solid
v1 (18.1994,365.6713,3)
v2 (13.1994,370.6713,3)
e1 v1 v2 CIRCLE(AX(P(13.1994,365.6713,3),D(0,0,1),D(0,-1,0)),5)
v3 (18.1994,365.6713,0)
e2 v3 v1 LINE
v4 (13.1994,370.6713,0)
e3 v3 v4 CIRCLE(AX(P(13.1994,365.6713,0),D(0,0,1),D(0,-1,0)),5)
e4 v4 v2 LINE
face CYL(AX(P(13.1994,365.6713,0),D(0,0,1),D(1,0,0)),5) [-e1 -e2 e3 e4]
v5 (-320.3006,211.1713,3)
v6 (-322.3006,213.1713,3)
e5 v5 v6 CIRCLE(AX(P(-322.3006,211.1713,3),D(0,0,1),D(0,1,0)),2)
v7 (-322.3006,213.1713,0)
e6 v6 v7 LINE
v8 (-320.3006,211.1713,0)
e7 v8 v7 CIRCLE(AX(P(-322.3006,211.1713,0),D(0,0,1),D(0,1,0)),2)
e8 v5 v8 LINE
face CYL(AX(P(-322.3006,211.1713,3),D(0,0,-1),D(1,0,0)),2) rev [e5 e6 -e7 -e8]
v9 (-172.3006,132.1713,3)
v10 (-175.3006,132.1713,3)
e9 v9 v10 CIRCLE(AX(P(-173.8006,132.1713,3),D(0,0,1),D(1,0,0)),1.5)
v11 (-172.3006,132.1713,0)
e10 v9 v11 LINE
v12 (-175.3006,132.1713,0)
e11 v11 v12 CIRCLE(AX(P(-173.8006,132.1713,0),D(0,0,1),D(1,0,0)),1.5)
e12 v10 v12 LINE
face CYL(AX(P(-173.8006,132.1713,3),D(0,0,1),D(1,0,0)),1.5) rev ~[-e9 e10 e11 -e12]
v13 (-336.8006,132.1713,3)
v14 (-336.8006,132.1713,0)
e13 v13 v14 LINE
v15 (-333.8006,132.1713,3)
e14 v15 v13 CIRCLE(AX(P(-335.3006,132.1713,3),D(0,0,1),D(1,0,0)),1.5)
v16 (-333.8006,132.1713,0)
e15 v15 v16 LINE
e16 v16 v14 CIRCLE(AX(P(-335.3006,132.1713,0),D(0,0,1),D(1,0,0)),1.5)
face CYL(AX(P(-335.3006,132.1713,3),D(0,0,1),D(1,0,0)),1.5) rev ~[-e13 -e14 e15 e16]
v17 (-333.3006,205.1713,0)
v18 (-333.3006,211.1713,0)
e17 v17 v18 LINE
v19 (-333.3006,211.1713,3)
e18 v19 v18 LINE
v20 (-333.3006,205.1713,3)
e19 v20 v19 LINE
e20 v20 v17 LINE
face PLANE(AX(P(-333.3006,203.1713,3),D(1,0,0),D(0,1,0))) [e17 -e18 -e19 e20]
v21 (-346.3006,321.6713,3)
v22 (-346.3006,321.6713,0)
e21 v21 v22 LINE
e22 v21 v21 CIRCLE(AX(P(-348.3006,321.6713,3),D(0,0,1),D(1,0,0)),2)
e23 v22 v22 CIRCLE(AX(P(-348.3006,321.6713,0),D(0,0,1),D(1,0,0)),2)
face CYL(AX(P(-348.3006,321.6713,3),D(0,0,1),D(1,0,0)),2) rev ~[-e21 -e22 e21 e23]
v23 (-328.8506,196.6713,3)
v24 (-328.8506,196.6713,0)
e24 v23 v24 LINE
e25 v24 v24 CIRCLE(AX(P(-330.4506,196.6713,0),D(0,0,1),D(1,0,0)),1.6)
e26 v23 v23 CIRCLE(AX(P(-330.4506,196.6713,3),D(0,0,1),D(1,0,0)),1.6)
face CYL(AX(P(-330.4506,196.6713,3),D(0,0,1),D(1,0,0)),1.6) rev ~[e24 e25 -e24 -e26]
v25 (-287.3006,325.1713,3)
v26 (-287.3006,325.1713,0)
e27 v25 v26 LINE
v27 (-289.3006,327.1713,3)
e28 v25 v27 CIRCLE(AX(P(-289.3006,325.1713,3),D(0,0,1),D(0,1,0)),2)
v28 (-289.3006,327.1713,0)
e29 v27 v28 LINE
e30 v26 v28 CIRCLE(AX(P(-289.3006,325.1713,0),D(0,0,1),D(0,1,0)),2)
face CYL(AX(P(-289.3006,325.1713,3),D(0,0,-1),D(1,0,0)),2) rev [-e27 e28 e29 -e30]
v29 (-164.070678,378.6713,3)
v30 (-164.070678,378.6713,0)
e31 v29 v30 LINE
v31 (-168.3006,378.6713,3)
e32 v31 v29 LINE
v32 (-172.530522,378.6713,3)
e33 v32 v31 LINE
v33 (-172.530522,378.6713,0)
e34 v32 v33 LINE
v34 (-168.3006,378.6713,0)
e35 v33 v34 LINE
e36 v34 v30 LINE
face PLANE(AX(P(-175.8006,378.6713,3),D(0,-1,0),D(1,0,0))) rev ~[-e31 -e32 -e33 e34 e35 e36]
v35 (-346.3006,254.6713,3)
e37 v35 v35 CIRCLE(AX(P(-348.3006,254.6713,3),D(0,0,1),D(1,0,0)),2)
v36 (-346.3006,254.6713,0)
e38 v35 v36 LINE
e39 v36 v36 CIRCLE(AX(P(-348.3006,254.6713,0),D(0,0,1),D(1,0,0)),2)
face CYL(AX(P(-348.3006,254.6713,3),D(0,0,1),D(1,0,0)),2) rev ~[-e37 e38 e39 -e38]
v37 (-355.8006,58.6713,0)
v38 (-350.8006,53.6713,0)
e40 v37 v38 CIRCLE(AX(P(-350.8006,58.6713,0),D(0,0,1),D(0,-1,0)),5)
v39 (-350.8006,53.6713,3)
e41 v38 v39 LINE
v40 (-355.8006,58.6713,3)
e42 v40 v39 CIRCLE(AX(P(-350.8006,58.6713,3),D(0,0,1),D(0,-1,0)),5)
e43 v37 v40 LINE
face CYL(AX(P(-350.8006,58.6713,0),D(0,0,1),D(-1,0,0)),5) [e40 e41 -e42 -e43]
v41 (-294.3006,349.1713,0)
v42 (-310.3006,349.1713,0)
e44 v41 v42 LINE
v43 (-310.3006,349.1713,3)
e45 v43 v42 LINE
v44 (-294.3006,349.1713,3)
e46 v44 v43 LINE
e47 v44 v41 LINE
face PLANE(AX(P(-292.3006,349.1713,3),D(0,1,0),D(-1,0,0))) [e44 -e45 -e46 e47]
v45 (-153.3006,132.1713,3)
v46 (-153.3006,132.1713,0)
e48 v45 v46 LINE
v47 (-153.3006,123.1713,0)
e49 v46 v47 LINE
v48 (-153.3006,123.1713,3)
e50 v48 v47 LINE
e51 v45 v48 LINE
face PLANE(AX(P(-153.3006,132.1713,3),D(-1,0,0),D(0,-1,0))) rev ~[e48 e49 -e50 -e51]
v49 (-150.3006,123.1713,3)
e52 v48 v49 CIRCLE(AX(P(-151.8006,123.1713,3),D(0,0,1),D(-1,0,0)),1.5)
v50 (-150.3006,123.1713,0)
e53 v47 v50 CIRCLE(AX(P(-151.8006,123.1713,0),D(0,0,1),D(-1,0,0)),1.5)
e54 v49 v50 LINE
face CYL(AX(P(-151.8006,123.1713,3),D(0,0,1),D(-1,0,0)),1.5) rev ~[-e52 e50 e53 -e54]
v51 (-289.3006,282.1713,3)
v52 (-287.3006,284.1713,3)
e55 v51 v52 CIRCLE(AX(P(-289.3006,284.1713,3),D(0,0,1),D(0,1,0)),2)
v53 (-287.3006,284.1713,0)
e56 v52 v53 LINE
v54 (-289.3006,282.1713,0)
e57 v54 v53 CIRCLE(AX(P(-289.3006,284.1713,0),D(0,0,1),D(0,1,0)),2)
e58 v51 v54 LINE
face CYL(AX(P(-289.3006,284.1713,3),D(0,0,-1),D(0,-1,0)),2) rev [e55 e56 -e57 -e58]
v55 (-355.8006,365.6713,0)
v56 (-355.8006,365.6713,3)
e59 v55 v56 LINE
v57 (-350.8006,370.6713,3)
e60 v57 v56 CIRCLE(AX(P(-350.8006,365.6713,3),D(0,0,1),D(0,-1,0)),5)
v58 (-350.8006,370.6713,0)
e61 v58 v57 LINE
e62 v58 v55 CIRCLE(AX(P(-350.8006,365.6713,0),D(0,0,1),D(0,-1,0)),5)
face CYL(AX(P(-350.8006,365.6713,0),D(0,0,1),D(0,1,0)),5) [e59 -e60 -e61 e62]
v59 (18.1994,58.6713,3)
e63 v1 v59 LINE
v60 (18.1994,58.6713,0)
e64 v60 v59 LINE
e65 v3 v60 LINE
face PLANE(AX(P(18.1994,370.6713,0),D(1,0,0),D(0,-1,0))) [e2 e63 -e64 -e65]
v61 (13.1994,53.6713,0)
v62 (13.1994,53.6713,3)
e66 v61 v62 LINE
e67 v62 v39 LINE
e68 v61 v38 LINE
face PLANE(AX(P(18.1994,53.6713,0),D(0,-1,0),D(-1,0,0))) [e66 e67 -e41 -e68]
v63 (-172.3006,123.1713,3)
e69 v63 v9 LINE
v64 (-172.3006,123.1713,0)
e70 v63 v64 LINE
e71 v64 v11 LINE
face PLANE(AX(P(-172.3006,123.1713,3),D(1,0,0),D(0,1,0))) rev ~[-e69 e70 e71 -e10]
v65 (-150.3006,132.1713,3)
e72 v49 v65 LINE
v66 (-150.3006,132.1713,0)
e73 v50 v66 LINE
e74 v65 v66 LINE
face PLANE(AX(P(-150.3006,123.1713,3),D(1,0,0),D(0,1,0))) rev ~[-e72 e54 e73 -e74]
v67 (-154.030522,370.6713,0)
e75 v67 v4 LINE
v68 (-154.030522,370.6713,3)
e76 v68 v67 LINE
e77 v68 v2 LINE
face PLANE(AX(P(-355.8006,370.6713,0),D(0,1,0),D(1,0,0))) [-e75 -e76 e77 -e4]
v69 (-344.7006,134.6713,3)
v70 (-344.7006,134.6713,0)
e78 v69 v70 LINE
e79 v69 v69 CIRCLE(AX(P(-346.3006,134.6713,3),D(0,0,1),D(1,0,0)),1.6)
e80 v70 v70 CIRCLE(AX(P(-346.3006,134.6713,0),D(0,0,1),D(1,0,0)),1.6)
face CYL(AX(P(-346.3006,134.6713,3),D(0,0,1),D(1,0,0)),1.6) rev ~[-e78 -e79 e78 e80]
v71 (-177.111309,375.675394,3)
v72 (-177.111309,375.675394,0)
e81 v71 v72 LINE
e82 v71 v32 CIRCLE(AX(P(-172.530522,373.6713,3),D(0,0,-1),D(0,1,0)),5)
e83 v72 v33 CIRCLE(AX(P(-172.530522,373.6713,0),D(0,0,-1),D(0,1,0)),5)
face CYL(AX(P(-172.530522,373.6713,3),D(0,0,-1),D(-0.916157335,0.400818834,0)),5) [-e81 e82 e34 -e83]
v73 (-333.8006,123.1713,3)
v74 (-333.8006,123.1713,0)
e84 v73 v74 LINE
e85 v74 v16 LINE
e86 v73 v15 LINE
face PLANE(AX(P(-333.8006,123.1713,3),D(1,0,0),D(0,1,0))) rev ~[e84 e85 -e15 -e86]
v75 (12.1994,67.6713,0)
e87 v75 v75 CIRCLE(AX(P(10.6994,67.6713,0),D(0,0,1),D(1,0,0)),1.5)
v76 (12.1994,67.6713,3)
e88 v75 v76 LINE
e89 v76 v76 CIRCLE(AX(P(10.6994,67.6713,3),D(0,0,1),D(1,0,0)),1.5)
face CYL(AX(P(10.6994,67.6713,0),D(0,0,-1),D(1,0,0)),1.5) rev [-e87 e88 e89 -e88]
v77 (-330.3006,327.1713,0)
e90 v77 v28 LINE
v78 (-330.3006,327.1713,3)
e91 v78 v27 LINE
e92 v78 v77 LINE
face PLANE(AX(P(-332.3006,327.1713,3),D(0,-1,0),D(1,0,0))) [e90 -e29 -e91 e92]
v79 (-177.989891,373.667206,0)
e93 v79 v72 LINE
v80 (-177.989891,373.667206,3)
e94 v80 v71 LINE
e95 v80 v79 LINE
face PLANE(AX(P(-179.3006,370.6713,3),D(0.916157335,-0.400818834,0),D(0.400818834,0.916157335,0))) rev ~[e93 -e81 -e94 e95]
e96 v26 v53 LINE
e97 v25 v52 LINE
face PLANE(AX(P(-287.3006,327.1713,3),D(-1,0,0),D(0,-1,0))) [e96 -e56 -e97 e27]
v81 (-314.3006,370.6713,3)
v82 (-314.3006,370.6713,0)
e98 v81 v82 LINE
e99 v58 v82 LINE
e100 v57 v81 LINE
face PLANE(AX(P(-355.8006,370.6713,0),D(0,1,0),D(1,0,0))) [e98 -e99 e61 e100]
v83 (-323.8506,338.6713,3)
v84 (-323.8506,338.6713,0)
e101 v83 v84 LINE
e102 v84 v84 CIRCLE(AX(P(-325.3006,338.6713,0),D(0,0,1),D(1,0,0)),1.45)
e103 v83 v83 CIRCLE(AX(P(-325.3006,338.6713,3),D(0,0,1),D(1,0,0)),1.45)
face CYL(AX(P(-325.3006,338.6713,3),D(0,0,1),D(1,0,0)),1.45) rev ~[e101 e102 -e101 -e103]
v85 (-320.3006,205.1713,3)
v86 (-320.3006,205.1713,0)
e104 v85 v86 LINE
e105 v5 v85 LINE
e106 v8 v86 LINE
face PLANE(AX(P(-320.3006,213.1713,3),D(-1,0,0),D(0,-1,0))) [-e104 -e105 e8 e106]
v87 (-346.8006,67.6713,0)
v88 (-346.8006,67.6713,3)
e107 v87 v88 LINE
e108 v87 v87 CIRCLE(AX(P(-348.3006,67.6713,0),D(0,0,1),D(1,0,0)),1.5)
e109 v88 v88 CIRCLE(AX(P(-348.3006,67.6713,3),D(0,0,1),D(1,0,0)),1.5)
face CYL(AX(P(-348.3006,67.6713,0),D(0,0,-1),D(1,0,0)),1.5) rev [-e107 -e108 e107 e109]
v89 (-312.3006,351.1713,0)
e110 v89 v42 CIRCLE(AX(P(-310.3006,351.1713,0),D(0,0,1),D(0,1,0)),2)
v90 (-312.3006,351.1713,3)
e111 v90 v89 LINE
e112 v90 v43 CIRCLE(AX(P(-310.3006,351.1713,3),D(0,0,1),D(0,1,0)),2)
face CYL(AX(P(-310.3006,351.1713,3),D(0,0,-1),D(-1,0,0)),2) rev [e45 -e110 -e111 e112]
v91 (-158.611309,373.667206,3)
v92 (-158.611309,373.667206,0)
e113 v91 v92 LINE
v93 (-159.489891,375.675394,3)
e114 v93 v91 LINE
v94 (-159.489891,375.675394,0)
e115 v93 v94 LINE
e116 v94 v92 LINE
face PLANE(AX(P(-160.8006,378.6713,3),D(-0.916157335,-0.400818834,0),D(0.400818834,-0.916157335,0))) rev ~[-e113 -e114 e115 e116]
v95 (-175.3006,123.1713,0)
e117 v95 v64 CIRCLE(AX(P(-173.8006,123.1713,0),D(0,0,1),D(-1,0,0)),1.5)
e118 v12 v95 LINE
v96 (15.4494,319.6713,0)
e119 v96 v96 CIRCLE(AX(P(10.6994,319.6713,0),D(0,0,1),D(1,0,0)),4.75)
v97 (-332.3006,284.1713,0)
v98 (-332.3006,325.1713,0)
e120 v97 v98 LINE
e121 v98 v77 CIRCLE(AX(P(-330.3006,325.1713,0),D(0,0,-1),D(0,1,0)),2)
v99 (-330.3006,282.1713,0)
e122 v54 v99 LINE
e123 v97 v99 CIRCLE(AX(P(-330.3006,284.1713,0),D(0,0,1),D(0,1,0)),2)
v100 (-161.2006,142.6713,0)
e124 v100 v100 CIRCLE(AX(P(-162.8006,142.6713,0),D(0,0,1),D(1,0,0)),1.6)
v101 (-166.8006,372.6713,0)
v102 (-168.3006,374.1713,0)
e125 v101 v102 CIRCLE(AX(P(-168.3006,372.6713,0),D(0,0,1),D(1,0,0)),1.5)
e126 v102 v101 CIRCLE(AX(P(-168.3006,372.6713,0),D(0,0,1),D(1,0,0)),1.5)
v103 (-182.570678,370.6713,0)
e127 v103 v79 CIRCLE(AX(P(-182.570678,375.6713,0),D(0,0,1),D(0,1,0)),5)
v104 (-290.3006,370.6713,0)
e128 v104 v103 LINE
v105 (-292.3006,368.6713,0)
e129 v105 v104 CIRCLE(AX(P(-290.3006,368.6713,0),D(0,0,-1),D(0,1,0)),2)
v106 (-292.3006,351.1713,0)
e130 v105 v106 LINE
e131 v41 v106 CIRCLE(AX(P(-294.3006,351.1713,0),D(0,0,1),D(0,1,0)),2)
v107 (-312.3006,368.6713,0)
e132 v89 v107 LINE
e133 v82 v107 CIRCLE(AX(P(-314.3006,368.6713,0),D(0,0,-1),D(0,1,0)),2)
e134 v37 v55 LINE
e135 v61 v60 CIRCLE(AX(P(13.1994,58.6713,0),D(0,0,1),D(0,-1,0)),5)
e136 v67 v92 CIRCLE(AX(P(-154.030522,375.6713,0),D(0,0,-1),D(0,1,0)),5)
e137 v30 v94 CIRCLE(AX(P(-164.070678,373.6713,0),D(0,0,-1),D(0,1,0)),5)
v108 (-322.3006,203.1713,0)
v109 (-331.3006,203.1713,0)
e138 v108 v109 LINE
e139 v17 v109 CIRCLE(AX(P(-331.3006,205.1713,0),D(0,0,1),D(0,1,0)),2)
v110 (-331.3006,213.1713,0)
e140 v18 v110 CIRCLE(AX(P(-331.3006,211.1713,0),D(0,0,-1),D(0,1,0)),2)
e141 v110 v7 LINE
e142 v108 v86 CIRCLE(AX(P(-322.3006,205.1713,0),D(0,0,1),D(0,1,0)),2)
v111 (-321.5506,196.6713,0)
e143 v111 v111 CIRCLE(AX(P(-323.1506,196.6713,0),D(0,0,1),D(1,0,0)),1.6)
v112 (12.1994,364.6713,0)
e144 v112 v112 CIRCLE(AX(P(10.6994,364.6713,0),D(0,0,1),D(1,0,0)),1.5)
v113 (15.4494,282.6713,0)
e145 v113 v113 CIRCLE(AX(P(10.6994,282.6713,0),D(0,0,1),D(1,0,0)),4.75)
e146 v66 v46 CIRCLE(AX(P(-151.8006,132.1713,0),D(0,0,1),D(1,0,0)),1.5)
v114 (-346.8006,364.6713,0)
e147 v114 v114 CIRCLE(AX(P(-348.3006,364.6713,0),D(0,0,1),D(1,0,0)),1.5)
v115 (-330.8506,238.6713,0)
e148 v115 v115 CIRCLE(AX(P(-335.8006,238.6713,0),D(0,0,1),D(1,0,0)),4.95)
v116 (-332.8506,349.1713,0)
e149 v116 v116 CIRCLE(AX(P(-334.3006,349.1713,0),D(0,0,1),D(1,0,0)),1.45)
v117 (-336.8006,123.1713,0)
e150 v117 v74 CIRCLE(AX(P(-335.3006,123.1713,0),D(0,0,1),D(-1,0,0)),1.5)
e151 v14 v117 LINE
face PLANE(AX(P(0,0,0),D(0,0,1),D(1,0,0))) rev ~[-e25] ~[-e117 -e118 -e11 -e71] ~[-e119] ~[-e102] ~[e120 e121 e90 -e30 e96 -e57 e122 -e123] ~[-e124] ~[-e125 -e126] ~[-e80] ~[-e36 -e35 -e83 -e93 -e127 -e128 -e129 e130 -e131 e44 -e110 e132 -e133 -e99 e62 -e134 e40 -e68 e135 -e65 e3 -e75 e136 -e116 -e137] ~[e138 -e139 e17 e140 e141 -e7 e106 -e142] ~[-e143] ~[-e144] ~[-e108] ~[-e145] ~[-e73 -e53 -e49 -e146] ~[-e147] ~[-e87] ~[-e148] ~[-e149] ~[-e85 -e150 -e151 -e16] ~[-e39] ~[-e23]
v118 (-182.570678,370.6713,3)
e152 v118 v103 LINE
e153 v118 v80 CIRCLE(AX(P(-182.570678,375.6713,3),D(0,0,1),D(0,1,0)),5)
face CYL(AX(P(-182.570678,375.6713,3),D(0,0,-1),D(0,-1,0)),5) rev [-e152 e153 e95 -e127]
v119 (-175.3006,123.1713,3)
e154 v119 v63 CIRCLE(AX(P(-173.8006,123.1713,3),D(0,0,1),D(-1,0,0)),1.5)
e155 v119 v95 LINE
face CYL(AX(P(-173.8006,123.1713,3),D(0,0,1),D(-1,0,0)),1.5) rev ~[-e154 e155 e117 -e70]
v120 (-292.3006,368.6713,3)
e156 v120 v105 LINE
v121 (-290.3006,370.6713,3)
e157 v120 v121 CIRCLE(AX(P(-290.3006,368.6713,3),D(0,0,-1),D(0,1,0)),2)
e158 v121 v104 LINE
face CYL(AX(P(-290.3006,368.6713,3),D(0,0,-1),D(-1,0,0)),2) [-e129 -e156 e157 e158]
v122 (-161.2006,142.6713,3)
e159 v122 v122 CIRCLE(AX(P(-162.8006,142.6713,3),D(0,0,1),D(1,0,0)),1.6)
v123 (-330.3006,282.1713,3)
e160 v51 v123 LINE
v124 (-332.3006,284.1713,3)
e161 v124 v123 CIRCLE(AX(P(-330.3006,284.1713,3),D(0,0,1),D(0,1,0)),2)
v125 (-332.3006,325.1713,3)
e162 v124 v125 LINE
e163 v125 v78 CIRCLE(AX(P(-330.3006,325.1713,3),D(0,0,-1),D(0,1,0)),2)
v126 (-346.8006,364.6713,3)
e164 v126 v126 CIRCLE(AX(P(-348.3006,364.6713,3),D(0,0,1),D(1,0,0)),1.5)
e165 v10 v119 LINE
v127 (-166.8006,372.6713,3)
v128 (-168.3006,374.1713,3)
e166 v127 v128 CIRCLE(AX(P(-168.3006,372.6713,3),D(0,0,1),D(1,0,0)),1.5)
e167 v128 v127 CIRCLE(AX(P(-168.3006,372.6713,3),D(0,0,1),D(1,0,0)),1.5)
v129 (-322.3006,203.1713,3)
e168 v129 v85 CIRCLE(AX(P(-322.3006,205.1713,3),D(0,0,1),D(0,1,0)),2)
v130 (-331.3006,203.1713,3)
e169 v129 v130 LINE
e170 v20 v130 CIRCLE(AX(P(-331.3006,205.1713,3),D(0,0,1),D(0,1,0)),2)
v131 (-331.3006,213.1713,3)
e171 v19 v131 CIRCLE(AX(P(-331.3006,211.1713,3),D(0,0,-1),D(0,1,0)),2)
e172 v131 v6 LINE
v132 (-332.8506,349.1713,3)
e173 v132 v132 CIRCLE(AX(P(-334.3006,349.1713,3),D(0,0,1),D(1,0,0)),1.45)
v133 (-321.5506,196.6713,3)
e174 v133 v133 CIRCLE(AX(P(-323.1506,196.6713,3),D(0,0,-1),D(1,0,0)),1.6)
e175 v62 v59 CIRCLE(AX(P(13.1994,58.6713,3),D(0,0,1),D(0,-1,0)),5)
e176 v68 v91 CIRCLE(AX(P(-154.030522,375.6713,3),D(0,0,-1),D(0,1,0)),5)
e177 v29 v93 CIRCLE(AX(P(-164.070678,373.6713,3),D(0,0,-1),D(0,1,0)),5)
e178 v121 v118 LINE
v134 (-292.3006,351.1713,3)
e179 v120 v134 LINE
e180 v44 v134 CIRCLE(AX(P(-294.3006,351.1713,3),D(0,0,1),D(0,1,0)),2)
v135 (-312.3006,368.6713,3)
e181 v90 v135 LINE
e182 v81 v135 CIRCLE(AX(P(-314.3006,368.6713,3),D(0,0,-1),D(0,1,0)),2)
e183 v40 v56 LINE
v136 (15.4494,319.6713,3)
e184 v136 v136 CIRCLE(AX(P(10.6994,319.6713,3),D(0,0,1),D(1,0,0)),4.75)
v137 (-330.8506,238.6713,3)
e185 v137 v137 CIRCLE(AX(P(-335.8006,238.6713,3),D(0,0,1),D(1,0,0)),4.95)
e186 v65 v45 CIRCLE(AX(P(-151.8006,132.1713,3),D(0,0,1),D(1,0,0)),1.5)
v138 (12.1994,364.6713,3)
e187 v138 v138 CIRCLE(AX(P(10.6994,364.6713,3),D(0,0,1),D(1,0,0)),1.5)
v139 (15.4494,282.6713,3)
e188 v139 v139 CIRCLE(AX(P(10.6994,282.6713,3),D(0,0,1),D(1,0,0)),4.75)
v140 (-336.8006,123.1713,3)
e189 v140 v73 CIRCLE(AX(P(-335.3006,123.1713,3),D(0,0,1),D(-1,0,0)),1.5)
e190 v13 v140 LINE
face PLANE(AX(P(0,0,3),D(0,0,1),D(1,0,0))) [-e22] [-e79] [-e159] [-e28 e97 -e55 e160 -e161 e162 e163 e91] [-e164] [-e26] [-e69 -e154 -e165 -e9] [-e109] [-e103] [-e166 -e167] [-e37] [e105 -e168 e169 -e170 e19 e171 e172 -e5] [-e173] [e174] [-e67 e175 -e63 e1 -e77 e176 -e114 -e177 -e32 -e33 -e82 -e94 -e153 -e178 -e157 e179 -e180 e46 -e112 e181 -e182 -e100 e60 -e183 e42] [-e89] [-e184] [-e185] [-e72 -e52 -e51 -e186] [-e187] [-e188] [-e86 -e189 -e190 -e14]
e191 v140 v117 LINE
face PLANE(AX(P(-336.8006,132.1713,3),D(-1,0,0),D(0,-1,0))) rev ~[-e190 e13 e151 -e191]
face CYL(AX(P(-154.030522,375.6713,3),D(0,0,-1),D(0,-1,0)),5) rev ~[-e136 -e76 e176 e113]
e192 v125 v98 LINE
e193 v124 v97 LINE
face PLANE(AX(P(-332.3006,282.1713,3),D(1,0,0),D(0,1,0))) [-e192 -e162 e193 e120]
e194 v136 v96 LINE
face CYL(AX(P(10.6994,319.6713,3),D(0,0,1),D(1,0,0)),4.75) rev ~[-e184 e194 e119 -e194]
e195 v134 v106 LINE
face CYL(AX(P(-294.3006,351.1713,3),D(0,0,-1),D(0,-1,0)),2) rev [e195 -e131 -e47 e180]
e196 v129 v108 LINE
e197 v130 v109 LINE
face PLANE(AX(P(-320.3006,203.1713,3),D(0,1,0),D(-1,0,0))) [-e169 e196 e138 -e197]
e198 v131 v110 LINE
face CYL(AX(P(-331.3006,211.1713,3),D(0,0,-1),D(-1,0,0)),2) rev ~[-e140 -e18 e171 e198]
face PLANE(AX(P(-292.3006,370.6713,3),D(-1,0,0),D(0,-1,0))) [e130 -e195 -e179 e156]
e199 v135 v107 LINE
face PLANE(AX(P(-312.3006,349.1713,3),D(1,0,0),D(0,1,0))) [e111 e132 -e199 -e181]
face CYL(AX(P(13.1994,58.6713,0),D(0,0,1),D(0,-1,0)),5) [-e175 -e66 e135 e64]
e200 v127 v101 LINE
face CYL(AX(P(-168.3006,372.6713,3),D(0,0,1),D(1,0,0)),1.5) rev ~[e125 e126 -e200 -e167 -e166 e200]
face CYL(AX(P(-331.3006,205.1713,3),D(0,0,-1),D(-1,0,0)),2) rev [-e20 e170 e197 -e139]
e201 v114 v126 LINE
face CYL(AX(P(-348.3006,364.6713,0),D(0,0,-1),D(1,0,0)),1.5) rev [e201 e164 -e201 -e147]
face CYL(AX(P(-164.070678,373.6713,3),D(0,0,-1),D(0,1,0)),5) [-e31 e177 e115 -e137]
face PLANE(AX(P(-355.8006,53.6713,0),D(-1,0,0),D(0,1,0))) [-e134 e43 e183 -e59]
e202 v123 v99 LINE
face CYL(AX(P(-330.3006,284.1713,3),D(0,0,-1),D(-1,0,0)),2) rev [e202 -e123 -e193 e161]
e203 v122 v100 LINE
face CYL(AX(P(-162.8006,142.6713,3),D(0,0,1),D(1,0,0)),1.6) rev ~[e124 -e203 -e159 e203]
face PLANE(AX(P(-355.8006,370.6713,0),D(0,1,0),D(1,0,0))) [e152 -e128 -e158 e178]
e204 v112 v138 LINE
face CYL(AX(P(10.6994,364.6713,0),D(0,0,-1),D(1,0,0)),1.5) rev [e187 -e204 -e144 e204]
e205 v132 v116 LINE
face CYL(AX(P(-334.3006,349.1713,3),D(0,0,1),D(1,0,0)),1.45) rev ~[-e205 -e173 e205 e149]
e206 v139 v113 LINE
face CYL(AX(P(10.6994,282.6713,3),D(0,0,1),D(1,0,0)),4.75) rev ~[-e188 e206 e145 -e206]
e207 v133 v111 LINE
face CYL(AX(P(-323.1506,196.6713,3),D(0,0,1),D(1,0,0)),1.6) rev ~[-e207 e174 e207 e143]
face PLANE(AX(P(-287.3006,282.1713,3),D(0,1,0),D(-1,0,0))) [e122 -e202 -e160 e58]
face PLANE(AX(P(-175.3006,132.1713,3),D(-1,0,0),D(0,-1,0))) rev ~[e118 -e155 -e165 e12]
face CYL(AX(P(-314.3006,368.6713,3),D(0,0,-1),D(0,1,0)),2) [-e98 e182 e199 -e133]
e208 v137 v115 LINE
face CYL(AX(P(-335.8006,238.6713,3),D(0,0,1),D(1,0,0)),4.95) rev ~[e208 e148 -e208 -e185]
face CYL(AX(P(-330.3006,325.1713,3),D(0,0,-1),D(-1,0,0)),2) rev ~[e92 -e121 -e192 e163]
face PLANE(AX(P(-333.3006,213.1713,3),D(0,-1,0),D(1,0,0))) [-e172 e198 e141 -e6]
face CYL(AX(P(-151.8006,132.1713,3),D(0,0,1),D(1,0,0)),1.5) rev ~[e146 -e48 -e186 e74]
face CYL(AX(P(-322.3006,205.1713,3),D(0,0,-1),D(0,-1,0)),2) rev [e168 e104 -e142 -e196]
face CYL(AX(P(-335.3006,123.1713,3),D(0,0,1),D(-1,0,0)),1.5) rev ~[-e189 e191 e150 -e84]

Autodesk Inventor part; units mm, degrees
ref_plane "YZ Plane" through (0, 0, 0) normal (1, 0, 0) x (0, 1, 0)
ref_plane "XZ Plane" through (0, 0, 0) normal (0, 1, 0) x (-1, 0, 0)
ref_plane "XY Plane" through (0, 0, 0) normal (0, 0, 1) x (1, 0, 0)
sketch "Эскиз1" plane through (0, 0, 0) normal (0, 0, 1) x (1, 0, 0)
  circle A0 centre (10.6994, 67.6713) radius 1.5
  circle A1 centre (10.6994, 364.6713) radius 1.5
  circle A2 centre (-348.3006, 364.6713) radius 1.5
  circle A3 centre (-348.3006, 67.6713) radius 1.5
  line L0 (-355.8006, 370.6713) -> (18.1994, 370.6713)
  line L1 (18.1994, 370.6713) -> (18.1994, 53.6713)
  line L2 (18.1994, 53.6713) -> (-355.8006, 53.6713)
  line L3 (-355.8006, 53.6713) -> (-355.8006, 370.6713)
  point P0 (18.1994, 53.6713)
  dimension "d4" = 374
  dimension "d6" = 317
  dimension "d7" = 14
  dimension "d40" = 7.5
  dimension "d41" = 297
  dimension "d42" = 7.5
  dimension "d43" = 7.5
  dimension "d44" = 297
  dimension "d45" = 6
  dimension "d46" = 359
  dimension "d47" = 14
  dimension "d48" = 359
extrude "Выдавливание1" add sketch "Эскиз1" along normal blind 3
sketch "Эскиз3" plane through (0, 0, 3) normal (0, 0, 1) x (1, 0, 0)
  circle A0 centre (10.6994, 282.6713) radius 3.75 projected
  circle A1 centre (10.6994, 319.6713) radius 3.75 projected
  circle A2 centre (-348.3006, 321.6713) radius 2 projected
  circle A3 centre (-348.3006, 254.6713) radius 2 projected
  circle A4 centre (-345.3006, 137.6713) radius 1.5 projected
  point P0 (0, 0)
sketch "Эскиз4" plane through (0, 0, 3) normal (0, 0, 1) x (1, 0, 0)
  circle A0 centre (-168.3006, 372.6713) radius 1.5 projected
  line L0 (-179.3006, 370.6713) -> (-175.8006, 378.6713)
  line L1 (-175.8006, 378.6713) -> (-160.8006, 378.6713)
  line L2 (-160.8006, 378.6713) -> (-157.3006, 370.6713)
  line L3 (18.1994, 370.6713) -> (-355.8006, 370.6713) projected
  line L4 (-168.3006, 372.6713) -> (-168.3006, 378.6713)
  point P0 (0, 0)
  dimension "d49" = 8
  dimension "d50" = 22
  dimension "d51" = 15
extrude "Выдавливание3" add sketch "Эскиз4" against normal blind 3
fillet "Сопряжение1" radius 5 4 edges at (-179.3006, 370.6713, 1.5) (-157.3006, 370.6713, 1.5) (-160.8006, 378.6713, 1.5) (-175.8006, 378.6713, 1.5)
fillet "Сопряжение2" radius 5 4 edges at (-355.8006, 370.6713, 1.5) (18.1994, 370.6713, 1.5) (18.1994, 53.6713, 1.5) (-355.8006, 53.6713, 1.5)
sketch "Эскиз5" plane through (0, 0, 3) normal (0, 0, 1) x (1, 0, 0)
  line L0 (-332.3006, 327.1713) -> (-287.3006, 327.1713)
  line L1 (-287.3006, 327.1713) -> (-287.3006, 282.1713)
  line L2 (-287.3006, 282.1713) -> (-332.3006, 282.1713)
  line L3 (-332.3006, 282.1713) -> (-332.3006, 327.1713)
  line L4 (-355.8006, 365.6713) -> (-355.8006, 58.6713) projected
  line L5 (-182.5707, 370.6713) -> (-350.8006, 370.6713) projected
  line L6 (-312.3006, 370.6713) -> (-292.3006, 370.6713)
  line L7 (-292.3006, 370.6713) -> (-292.3006, 349.1713)
  line L8 (-292.3006, 349.1713) -> (-312.3006, 349.1713)
  line L9 (-312.3006, 349.1713) -> (-312.3006, 370.6713)
  circle A0 centre (-335.8006, 238.6713) radius 4.95
  line L10 (-333.3006, 213.1713) -> (-320.3006, 213.1713)
  line L11 (-320.3006, 213.1713) -> (-320.3006, 203.1713)
  line L12 (-320.3006, 203.1713) -> (-333.3006, 203.1713)
  line L13 (-333.3006, 203.1713) -> (-333.3006, 213.1713)
  circle A1 centre (-330.4506, 196.6713) radius 1.6
  circle A2 centre (-323.1506, 196.6713) radius 1.6
  line L14 (-330.4506, 196.6713) -> (-323.1506, 196.6713)
  line L15 (-326.8006, 203.1713) -> (-326.8006, 196.6713)
  circle A3 centre (-162.8006, 142.6713) radius 1.6
  line L16 (18.1994, 58.6713) -> (18.1994, 365.6713) projected
  line L17 (-350.8006, 53.6713) -> (13.1994, 53.6713) projected
  line L18 (-173.8006, 132.1713) -> (-173.8006, 123.1713) construction
  line L19 (-175.3006, 132.1713) -> (-175.3006, 123.1713)
  line L20 (-172.3006, 123.1713) -> (-172.3006, 132.1713)
  arc A4 (-172.3006, 132.1713) -> (-175.3006, 132.1713) centre (-173.8006, 132.1713) ccw
  arc A5 (-175.3006, 123.1713) -> (-172.3006, 123.1713) centre (-173.8006, 123.1713) ccw
  line L21 (-151.8006, 132.1713) -> (-151.8006, 123.1713) construction
  line L22 (-153.3006, 132.1713) -> (-153.3006, 123.1713)
  line L23 (-150.3006, 123.1713) -> (-150.3006, 132.1713)
  arc A6 (-150.3006, 132.1713) -> (-153.3006, 132.1713) centre (-151.8006, 132.1713) ccw
  arc A7 (-153.3006, 123.1713) -> (-150.3006, 123.1713) centre (-151.8006, 123.1713) ccw
  line L24 (-162.8006, 142.6713) -> (-162.8006, 102.5696) construction
  line L25 (-173.8006, 127.6713) -> (-151.8006, 127.6713) construction
  circle A8 centre (-346.3006, 134.6713) radius 1.6
  line L26 (-335.3006, 132.1713) -> (-335.3006, 123.1713)
  line L27 (-336.8006, 132.1713) -> (-336.8006, 123.1713)
  line L28 (-333.8006, 123.1713) -> (-333.8006, 132.1713)
  arc A9 (-333.8006, 132.1713) -> (-336.8006, 132.1713) centre (-335.3006, 132.1713) ccw
  arc A10 (-336.8006, 123.1713) -> (-333.8006, 123.1713) centre (-335.3006, 123.1713) ccw
  circle A11 centre (-334.3006, 349.1713) radius 1.45
  circle A12 centre (-325.3006, 338.6713) radius 1.45
  circle A13 centre (10.6994, 319.6713) radius 3.75 construction
  circle A14 centre (10.6994, 282.6713) radius 3.75 construction
  circle A15 centre (10.6994, 319.6713) radius 4.75
  circle A16 centre (10.6994, 282.6713) radius 4.75
  point P0 (0, 0)
  point P1 (-335.3006, 127.6713)
  dimension "d56" = 68.5
  dimension "d57" = 45
  dimension "d58" = 45
  dimension "d59" = 23.5
  dimension "d60" = 43.5
  dimension "d61" = 21.5
  dimension "d62" = 20
  dimension "d63" = 43.5
  dimension "d64" = 20
  dimension "d65" = 132
  dimension "d66" = 9.9
  dimension "d67" = 13
  dimension "d68" = 10
  dimension "d69" = 157.5
  dimension "d70" = 22.5
  dimension "d71" = 3.2
  dimension "d72" = 3.2
  dimension "d73" = 10.5
  dimension "d74" = 6.5
  dimension "d75" = 7.3
  dimension "d76" = 193
  dimension "d77" = 181
  dimension "d78" = 89
  dimension "d79" = 3.2
  dimension "d80" = 22
  dimension "d81" = 12
  dimension "d82" = 3
  dimension "d83" = 3
  dimension "d84" = 12
  dimension "d85" = 25
  dimension "d86" = 68
  dimension "d87" = 3.2
  dimension "d88" = 9.5
  dimension "d89" = 81
  dimension "d90" = 3
  dimension "d91" = 68
  dimension "d92" = 19
  dimension "d93" = 12
  dimension "d94" = 2.9
  dimension "d95" = 2.9
  dimension "d96" = 21.5
  dimension "d97" = 21.5
  dimension "d98" = 32
  dimension "d99" = 30.5
  dimension "d100" = 9.5
  dimension "d101" = 9.5
extrude "Выдавливание4" cut sketch "Эскиз5" against normal blind 10
fillet "Сопряжение3" radius 2 12 edges at (-312.3006, 370.6713, 1.5) (-292.3006, 370.6713, 1.5) (-312.3006, 349.1713, 1.5) (-292.3006, 349.1713, 1.5) (-332.3006, 327.1713, 1.5) (-287.3006, 327.1713, 1.5) (-287.3006, 282.1713, 1.5) (-332.3006, 282.1713, 1.5) (-333.3006, 203.1713, 1.5) (-333.3006, 213.1713, 1.5) (-320.3006, 213.1713, 1.5) (-320.3006, 203.1713, 1.5)
sketch "Эскиз6" plane through (0, 0, 3) normal (0, 0, 1) x (1, 0, 0)
  circle A0 centre (-348.3006, 335.6713) radius 2 projected
  circle A1 centre (-348.3006, 282.6713) radius 2 projected
  circle A2 centre (-348.3006, 254.6713) radius 2 projected
  circle A3 centre (-348.3006, 321.6713) radius 2 projected
  line L0 (-359.8006, 317.6713) -> (-359.8006, 321.6713) projected
  point P0 (0, 0)
  dimension "d107" = 67
extrude "Выдавливание5" cut sketch "Эскиз6" against normal blind 10 contours A2 | A3
properties part number "боковая  панель"
